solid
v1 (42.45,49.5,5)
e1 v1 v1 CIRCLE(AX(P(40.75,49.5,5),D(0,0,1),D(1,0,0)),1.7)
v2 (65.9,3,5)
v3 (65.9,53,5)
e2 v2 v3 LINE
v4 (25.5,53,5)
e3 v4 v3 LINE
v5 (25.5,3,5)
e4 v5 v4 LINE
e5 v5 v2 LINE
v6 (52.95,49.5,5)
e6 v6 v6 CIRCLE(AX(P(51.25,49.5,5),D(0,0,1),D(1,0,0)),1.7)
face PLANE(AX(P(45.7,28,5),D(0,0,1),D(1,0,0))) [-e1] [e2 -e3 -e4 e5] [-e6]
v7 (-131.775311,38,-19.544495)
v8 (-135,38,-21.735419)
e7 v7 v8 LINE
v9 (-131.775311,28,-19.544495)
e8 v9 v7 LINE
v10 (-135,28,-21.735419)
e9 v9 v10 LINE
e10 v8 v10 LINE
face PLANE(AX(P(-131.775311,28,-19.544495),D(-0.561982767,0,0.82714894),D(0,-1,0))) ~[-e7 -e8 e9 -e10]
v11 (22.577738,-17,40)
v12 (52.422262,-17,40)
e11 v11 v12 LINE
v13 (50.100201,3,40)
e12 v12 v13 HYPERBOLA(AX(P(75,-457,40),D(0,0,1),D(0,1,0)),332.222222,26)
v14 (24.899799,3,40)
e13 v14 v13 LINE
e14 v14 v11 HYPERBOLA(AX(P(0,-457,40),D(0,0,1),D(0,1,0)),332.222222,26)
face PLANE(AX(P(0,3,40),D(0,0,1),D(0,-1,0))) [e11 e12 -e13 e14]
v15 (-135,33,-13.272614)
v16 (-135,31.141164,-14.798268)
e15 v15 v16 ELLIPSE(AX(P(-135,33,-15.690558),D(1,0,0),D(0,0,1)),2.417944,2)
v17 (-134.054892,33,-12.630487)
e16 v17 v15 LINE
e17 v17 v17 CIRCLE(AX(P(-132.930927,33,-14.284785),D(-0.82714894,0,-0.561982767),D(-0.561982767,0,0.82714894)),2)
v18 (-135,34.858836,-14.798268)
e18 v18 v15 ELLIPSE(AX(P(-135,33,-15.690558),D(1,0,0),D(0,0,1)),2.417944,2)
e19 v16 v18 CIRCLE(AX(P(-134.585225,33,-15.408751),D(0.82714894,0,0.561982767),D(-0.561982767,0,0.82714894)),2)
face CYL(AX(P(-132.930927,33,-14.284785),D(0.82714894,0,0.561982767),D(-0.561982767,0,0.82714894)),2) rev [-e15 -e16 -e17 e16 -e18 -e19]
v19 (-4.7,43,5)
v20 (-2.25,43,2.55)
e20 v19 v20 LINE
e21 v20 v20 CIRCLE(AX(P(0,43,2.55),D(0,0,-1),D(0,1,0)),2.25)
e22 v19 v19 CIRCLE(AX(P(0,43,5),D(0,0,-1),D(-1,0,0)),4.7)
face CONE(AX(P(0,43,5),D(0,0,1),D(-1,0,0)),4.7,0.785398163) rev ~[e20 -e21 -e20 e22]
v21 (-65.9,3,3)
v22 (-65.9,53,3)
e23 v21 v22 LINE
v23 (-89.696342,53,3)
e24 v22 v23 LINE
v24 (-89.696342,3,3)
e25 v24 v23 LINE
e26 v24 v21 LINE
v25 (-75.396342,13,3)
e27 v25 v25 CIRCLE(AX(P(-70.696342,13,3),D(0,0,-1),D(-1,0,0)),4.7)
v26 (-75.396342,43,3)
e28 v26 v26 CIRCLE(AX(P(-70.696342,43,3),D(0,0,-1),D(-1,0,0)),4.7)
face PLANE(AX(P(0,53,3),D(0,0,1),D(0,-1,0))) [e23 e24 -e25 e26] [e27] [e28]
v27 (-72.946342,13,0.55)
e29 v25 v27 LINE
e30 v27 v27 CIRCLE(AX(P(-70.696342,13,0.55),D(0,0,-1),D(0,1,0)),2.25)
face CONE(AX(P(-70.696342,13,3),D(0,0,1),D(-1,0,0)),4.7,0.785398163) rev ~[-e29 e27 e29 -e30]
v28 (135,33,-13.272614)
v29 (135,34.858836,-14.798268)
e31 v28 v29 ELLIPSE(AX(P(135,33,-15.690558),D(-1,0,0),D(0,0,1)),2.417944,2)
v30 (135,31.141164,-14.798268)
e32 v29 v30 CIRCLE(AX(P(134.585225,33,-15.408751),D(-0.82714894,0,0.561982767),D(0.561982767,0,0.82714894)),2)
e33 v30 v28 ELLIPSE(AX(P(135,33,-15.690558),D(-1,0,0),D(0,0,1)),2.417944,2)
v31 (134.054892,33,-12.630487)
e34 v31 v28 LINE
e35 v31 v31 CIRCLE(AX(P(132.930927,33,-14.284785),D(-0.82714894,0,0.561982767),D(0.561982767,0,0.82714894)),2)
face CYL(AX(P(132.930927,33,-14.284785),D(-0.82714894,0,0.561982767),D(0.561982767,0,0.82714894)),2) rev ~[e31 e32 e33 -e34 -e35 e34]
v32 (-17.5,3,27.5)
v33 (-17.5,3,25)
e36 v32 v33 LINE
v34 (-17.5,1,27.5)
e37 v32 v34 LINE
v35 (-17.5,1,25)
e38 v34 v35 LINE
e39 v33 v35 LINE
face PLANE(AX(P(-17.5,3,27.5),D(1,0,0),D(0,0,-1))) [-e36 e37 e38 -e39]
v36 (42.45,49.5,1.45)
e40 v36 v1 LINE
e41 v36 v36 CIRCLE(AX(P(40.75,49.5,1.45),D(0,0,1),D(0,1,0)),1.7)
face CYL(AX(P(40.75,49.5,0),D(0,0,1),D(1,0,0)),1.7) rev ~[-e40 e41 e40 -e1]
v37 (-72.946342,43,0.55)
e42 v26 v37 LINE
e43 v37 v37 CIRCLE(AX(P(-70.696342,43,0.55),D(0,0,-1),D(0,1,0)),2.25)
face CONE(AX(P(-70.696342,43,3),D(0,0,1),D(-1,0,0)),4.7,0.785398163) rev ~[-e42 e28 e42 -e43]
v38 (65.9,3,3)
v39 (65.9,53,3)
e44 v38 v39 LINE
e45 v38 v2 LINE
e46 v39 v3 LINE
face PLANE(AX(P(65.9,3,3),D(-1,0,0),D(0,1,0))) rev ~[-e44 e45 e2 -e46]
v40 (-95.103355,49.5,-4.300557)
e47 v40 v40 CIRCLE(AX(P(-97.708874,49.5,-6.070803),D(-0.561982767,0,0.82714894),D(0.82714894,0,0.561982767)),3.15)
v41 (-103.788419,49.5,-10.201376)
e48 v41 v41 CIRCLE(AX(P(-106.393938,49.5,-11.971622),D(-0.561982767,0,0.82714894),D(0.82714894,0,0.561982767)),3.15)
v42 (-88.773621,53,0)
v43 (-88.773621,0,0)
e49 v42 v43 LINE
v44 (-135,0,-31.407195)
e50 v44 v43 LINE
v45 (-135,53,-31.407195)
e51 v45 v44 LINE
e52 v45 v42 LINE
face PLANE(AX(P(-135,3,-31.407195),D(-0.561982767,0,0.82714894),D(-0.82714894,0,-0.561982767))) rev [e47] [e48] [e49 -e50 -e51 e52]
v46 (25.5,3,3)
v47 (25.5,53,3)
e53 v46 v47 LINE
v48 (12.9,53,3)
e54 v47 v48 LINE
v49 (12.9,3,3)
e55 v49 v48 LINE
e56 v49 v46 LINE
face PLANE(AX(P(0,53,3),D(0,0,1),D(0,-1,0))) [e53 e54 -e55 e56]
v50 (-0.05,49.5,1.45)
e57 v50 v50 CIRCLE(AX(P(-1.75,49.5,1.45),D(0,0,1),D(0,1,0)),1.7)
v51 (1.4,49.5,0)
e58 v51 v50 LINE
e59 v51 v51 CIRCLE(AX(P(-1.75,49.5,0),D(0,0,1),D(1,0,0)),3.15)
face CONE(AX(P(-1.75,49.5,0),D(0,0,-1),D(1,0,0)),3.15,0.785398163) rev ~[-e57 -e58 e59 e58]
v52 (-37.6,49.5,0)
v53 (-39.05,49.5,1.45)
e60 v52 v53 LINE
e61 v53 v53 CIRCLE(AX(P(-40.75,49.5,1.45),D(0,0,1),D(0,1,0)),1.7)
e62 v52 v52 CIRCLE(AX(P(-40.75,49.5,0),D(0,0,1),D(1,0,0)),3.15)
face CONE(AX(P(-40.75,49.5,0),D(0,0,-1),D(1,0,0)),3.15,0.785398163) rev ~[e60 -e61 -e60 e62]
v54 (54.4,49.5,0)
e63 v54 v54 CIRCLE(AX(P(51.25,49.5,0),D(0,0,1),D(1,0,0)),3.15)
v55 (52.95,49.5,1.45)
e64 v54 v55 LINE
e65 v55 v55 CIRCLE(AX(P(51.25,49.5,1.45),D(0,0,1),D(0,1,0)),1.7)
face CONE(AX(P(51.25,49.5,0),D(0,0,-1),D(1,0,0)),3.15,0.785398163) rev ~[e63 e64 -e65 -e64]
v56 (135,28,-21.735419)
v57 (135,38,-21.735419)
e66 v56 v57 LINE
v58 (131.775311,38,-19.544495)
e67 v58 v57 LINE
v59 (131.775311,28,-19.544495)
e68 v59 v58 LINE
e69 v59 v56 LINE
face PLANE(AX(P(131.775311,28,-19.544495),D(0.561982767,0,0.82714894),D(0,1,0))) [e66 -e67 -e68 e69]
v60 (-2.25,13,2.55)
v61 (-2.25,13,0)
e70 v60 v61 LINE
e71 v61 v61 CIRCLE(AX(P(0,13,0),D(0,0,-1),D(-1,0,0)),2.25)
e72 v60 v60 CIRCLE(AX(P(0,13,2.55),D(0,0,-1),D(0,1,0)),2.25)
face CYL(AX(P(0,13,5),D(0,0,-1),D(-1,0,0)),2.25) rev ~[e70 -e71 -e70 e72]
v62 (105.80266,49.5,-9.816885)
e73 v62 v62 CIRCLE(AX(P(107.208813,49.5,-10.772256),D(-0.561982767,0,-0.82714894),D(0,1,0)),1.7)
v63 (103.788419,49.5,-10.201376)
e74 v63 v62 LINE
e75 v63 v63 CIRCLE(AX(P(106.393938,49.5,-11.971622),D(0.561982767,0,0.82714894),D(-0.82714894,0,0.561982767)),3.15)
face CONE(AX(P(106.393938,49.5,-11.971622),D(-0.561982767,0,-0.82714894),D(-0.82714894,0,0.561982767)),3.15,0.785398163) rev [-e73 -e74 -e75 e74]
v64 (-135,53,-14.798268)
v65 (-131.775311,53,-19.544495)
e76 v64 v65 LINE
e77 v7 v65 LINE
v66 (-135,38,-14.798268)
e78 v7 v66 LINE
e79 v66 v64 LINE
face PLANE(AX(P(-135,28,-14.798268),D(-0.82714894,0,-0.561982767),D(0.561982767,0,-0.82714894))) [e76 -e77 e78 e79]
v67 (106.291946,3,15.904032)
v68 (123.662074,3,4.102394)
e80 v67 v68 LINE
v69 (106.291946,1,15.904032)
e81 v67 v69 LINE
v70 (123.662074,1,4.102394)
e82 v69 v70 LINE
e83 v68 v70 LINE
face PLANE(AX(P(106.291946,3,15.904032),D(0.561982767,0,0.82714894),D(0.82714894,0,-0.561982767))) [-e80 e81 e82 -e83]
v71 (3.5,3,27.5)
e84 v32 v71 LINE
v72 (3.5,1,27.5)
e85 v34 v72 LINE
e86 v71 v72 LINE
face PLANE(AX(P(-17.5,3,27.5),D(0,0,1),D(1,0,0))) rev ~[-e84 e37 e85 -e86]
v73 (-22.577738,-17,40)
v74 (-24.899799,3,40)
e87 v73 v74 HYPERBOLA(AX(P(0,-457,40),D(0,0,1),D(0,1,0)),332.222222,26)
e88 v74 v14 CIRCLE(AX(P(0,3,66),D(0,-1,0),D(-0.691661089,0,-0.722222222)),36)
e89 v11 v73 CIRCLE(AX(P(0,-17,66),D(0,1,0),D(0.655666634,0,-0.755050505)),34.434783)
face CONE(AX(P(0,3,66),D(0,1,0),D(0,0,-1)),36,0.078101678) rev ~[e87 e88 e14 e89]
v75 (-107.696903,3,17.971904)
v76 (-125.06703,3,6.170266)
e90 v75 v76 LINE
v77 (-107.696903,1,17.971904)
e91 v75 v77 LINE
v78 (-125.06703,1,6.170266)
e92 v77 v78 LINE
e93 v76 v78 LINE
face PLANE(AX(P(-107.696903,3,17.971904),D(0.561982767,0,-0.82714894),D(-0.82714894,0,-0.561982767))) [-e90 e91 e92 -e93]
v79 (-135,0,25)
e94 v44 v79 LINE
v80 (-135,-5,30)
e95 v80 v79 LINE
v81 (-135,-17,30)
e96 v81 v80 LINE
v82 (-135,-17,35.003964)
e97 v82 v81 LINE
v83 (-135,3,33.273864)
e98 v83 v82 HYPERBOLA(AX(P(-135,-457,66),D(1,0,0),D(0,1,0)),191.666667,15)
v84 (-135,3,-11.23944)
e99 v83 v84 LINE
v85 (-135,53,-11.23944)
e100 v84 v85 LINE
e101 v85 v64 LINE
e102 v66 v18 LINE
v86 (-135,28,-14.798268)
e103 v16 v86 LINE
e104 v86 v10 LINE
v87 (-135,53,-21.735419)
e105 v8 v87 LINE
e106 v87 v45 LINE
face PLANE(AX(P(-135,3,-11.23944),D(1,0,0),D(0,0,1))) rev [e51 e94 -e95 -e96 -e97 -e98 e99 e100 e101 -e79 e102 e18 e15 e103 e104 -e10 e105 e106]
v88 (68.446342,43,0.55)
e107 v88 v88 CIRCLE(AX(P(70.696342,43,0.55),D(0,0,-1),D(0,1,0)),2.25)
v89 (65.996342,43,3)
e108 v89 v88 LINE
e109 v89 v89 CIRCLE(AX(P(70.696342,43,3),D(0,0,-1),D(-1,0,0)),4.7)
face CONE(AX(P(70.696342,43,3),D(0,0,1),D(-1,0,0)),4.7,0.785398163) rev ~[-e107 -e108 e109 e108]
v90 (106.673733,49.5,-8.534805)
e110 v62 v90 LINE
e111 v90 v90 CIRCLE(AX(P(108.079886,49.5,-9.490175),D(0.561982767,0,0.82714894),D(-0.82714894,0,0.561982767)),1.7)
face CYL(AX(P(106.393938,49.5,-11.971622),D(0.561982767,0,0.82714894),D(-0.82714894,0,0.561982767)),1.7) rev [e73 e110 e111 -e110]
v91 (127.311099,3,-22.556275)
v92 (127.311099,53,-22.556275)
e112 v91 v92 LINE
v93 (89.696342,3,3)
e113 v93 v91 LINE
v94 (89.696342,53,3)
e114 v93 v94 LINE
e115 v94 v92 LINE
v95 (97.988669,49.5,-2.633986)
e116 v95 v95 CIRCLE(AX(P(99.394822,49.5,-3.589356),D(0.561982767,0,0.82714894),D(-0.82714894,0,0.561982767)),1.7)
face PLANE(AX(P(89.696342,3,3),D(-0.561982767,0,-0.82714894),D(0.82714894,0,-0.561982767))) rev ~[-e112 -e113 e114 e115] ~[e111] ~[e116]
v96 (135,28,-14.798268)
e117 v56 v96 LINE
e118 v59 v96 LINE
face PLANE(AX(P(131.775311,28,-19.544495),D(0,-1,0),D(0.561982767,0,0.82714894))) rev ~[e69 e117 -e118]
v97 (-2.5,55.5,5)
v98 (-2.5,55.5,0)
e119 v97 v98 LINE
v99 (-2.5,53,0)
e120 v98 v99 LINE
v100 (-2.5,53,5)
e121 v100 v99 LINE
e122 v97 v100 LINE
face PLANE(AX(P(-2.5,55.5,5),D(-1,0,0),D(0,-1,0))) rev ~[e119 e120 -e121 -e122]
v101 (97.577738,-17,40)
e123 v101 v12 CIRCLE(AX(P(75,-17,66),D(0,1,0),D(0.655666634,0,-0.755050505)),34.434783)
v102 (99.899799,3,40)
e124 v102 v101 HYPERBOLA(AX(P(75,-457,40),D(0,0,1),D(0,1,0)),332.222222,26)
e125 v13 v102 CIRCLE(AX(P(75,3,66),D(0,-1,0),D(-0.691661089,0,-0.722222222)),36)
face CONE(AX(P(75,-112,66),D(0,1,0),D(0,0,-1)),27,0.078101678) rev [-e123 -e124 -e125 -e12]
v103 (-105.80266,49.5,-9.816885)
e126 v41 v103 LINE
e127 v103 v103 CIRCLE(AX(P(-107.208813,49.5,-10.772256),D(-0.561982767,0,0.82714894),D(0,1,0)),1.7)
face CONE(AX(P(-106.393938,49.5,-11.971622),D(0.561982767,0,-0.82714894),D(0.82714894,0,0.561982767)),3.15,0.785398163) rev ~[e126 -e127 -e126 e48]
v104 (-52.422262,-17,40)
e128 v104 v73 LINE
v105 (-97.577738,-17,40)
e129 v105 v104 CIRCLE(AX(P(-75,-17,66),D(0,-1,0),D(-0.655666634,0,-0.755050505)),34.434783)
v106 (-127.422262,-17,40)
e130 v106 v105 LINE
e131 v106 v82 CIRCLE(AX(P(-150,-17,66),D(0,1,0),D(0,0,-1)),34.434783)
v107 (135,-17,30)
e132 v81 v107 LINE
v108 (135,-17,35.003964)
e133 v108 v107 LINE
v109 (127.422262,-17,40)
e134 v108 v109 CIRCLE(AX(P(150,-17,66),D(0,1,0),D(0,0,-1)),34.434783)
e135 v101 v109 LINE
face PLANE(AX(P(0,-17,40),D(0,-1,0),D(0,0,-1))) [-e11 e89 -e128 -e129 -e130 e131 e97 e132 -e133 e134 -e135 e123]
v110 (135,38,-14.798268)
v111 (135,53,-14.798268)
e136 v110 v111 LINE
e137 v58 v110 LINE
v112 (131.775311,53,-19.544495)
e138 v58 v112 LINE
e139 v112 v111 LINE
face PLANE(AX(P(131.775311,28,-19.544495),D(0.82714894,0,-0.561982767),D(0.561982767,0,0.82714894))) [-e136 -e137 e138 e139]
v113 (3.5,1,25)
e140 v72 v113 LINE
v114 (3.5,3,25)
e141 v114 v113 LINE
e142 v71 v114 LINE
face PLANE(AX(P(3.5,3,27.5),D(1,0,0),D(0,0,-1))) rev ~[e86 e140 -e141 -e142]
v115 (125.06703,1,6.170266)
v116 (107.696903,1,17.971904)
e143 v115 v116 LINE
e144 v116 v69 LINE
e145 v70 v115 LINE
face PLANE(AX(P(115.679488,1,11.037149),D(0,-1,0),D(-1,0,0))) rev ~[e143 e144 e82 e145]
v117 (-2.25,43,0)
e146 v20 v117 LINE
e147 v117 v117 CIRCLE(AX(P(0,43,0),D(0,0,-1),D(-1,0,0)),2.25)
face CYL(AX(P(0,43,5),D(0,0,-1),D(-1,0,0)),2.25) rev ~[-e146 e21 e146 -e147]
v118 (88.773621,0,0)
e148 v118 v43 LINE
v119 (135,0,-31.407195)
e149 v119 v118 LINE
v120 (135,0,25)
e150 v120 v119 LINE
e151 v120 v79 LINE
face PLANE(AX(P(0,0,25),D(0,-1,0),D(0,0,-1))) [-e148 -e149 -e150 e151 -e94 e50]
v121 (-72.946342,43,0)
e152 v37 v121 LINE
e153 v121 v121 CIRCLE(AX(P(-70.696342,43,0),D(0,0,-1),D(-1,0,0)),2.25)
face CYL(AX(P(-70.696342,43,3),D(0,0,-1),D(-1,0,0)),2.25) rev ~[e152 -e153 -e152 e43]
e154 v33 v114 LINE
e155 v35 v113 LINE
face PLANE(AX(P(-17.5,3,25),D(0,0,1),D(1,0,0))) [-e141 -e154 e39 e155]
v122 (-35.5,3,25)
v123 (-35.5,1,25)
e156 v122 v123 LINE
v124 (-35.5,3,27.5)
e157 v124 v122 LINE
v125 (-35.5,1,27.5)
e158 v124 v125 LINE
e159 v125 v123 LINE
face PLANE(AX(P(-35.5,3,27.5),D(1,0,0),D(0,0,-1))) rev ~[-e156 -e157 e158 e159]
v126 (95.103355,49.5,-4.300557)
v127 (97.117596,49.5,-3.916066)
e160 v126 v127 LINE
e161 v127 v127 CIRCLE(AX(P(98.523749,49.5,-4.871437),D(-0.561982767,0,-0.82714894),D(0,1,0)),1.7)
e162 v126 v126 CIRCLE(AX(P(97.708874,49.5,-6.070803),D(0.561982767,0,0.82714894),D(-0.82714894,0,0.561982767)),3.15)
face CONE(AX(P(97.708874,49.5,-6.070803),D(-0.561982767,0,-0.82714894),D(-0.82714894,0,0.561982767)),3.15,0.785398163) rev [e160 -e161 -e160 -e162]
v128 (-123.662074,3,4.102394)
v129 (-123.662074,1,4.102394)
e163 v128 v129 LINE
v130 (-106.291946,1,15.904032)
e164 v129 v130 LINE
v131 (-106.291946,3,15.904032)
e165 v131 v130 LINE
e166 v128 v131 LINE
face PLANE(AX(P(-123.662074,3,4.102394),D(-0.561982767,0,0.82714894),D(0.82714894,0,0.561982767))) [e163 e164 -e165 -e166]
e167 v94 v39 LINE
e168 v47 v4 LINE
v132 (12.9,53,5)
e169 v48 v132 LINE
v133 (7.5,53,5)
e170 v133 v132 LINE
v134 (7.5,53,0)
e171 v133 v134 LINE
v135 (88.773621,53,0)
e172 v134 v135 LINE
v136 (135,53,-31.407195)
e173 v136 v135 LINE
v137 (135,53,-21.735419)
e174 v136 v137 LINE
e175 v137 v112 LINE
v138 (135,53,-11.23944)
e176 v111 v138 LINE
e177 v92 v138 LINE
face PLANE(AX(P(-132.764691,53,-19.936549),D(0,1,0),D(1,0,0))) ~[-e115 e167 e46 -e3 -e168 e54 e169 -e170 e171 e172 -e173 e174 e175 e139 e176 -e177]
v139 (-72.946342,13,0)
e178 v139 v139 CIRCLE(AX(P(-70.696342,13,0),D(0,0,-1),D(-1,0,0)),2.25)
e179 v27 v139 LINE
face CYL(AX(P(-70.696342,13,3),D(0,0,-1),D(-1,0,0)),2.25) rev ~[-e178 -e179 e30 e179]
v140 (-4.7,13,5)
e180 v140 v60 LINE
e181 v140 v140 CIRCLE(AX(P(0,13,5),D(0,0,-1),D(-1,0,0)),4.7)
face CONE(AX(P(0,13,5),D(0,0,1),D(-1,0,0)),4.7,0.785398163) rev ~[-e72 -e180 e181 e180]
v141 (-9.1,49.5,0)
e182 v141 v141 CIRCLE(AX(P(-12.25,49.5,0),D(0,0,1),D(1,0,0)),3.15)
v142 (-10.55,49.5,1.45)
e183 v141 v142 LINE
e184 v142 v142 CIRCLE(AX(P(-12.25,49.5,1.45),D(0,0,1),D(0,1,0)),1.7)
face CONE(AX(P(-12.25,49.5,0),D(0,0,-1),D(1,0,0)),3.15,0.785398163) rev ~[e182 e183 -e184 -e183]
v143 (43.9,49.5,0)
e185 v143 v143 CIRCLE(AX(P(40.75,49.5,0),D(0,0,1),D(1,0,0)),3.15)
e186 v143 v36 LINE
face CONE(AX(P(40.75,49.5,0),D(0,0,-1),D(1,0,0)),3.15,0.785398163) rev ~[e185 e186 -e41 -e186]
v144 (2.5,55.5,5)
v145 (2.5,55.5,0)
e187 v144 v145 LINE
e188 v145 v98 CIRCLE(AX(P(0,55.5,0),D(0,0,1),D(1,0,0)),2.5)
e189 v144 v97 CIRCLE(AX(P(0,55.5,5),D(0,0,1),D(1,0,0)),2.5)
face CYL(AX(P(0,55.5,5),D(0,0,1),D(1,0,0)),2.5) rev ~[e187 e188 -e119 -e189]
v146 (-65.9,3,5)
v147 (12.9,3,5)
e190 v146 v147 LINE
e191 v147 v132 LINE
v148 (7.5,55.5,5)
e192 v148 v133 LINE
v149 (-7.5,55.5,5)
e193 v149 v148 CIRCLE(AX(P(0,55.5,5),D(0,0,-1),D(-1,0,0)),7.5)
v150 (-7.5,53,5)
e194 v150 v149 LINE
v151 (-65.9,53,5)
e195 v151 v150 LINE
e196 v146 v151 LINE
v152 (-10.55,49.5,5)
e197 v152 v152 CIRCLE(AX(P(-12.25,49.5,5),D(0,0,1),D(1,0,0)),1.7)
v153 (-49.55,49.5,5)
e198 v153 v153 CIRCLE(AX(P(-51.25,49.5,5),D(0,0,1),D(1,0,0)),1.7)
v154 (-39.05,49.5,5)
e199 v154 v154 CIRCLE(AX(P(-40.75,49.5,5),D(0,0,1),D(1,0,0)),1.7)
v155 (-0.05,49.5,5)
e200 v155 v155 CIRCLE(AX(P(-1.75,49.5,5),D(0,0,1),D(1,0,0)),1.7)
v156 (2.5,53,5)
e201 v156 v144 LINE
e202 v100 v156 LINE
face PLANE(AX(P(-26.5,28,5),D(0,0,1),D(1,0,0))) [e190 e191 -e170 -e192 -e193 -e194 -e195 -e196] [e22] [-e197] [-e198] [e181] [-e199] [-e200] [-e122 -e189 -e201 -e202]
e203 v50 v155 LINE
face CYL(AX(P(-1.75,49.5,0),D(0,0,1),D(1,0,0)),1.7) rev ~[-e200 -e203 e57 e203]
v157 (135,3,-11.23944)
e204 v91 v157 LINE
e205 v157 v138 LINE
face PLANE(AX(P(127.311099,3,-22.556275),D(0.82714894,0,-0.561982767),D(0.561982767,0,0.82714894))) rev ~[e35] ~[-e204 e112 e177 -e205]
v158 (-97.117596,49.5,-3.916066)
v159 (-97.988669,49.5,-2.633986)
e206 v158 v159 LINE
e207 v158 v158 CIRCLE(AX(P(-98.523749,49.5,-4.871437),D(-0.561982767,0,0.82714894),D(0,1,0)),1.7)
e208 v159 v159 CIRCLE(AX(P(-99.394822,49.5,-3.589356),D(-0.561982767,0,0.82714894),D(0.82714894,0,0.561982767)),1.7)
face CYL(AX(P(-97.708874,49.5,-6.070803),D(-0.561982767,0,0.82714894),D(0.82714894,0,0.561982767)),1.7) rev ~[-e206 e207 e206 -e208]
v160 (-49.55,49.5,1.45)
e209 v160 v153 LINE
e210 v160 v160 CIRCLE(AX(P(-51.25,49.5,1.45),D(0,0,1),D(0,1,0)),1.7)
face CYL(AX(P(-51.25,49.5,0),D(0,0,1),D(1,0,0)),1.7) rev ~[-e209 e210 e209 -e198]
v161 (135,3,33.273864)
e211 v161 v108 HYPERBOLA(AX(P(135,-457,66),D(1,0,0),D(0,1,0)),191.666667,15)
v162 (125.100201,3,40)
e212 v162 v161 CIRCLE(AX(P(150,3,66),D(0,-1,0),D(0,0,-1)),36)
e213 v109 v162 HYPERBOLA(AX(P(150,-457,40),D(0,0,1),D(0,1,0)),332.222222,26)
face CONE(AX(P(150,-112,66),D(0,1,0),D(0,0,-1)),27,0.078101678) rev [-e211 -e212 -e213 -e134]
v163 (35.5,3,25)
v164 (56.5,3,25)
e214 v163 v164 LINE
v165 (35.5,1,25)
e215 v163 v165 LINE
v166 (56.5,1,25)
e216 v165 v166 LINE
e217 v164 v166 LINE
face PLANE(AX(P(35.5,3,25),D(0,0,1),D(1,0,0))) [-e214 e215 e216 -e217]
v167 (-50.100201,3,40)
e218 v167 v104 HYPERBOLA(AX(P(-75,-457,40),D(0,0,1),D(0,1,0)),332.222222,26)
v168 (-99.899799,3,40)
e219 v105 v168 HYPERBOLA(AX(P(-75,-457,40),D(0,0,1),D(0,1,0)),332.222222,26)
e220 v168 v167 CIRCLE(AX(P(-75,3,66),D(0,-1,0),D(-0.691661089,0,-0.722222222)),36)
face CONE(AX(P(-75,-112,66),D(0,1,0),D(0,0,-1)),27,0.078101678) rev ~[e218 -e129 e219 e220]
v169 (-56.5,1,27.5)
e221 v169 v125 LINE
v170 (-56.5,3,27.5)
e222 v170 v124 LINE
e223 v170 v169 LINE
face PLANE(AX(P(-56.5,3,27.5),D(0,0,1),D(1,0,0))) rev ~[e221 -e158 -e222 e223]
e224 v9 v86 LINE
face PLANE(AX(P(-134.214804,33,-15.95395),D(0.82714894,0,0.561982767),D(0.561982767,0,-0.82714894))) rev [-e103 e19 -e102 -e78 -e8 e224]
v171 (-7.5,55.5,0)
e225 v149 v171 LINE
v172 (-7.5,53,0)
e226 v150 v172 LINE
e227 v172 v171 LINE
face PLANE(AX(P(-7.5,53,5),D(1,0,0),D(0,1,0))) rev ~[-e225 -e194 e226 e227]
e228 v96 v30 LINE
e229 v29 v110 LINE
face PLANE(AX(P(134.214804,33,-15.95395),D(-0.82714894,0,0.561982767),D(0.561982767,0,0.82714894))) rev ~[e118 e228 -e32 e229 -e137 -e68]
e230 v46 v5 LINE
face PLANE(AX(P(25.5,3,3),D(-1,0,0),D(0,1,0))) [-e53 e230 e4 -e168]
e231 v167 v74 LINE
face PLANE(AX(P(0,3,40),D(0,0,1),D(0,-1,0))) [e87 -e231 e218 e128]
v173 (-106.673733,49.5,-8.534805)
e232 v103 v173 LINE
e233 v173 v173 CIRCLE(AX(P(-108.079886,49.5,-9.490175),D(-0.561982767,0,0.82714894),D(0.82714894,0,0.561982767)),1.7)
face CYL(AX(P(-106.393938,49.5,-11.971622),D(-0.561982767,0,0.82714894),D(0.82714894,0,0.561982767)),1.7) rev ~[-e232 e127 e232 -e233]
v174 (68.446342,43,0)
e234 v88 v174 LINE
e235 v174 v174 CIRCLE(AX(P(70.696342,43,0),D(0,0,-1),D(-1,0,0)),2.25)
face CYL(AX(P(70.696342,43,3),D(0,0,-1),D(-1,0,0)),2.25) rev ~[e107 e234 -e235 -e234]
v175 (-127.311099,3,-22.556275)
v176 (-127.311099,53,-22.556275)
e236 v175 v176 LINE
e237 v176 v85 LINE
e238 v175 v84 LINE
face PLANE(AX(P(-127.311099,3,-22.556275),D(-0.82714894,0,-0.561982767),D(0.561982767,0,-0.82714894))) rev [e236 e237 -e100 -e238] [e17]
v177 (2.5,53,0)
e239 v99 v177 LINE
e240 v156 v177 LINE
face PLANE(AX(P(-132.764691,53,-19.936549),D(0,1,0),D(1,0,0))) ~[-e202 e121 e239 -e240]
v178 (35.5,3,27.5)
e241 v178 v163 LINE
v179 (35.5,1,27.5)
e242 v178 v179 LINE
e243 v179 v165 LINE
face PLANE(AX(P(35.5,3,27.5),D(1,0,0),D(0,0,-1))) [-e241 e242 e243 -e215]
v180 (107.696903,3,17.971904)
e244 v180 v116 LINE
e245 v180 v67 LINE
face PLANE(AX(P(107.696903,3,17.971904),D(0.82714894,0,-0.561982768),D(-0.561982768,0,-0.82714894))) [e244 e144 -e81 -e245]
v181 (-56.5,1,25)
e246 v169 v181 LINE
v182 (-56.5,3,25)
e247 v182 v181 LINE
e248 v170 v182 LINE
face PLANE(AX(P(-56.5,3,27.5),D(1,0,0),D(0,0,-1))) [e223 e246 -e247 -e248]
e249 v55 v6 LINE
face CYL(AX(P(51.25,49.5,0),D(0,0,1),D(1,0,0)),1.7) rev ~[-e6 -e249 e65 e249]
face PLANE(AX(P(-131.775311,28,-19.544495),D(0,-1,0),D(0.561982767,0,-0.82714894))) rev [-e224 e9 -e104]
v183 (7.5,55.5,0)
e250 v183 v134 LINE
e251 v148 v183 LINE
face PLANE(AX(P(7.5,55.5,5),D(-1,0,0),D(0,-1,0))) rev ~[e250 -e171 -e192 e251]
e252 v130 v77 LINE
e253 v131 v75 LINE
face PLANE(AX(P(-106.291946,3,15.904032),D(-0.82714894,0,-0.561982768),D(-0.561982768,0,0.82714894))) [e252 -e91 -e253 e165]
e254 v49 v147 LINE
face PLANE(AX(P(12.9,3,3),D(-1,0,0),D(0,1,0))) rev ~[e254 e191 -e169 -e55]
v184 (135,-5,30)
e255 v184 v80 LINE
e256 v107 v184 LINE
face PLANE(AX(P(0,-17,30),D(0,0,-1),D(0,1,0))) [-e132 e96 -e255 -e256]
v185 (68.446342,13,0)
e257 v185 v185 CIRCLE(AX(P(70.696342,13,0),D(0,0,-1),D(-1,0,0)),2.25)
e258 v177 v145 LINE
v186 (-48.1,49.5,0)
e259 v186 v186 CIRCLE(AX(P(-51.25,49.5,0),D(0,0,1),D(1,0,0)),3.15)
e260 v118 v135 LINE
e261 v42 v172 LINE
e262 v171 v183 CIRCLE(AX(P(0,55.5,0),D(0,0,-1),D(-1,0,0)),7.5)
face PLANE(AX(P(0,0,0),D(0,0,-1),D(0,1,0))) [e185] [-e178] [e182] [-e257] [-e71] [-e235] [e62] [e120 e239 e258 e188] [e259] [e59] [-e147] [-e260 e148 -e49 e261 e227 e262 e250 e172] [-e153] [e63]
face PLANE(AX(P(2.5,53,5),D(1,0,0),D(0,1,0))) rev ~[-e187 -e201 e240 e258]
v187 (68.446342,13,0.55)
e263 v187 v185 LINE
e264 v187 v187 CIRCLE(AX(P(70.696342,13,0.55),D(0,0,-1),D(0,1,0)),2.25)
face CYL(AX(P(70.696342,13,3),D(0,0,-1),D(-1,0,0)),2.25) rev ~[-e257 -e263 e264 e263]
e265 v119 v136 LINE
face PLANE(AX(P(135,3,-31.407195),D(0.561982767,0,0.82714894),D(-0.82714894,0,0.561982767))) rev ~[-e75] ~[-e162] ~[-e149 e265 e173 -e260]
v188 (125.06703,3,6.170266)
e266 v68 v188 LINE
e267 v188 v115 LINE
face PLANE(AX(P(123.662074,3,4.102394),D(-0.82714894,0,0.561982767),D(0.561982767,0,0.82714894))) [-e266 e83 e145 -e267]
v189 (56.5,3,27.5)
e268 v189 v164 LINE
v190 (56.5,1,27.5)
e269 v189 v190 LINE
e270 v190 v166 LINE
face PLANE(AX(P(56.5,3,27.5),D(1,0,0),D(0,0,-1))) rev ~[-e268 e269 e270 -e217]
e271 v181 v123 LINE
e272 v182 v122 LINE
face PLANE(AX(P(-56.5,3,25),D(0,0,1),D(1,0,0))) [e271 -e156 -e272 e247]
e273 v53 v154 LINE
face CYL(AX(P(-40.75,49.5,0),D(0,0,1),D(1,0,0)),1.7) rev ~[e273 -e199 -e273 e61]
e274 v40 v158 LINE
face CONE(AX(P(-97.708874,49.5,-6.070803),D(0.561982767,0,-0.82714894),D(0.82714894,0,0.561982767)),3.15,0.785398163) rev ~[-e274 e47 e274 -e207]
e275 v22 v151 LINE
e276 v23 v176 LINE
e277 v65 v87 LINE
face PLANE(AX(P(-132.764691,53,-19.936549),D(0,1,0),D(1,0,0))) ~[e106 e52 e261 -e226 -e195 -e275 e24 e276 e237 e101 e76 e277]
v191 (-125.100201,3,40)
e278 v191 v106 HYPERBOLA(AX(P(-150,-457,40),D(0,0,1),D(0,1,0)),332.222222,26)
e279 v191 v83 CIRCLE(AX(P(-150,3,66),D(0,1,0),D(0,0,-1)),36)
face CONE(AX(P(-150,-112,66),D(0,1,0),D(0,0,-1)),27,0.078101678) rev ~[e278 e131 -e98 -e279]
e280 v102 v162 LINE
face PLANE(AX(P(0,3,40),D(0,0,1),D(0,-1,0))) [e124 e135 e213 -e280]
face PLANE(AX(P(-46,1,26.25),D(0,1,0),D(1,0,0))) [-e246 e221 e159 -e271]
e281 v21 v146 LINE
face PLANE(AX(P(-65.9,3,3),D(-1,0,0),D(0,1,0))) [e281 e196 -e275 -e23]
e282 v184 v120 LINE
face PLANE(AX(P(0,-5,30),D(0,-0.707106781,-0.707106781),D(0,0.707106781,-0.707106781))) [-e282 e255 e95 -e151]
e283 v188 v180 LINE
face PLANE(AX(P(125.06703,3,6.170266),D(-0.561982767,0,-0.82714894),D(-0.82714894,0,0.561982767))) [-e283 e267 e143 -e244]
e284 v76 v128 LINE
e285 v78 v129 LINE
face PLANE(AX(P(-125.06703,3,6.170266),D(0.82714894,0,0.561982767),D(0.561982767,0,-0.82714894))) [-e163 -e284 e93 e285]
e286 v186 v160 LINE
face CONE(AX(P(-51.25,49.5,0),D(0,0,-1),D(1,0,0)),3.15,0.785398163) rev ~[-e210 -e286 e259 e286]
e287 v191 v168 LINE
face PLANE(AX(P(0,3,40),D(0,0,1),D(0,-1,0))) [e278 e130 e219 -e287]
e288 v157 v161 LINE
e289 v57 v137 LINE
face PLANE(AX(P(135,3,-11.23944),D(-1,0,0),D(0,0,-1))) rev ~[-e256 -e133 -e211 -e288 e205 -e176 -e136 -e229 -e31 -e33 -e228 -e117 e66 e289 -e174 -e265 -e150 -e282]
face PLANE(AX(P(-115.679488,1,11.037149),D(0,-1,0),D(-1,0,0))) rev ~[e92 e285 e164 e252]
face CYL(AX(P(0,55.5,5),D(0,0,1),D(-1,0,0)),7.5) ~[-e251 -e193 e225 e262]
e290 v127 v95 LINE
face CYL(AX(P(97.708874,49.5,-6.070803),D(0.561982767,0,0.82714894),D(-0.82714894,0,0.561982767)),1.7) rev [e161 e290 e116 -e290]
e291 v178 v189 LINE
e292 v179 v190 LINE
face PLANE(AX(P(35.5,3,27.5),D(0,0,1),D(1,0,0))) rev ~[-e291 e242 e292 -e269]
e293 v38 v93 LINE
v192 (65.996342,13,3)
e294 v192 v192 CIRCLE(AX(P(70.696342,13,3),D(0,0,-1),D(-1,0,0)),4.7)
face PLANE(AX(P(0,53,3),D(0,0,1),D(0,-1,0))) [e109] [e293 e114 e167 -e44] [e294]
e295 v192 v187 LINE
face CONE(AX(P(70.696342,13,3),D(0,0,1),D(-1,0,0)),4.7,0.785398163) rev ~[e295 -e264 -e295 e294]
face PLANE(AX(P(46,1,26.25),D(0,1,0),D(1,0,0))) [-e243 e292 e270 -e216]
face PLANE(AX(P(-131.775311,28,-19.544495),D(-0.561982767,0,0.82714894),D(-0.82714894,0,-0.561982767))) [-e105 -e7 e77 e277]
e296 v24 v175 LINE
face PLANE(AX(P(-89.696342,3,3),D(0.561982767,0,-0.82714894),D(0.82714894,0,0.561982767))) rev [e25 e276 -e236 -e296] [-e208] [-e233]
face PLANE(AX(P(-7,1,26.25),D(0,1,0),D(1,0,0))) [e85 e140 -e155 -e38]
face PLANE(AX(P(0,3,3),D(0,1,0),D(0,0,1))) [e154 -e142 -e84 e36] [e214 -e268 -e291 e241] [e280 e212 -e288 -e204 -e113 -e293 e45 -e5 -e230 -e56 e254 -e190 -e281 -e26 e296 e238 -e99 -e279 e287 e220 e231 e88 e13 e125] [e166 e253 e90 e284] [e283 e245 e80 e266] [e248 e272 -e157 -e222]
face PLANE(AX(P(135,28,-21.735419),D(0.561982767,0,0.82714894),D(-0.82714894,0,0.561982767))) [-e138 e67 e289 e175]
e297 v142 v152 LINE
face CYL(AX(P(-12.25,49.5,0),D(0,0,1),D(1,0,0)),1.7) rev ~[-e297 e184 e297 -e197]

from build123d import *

# Parameters (mm, degrees)
BOSS_EXTRUDE1_DEPTH                                  = 135
BOSS_EXTRUDE2_REACH                                  = 151.416
BOSS_EXTRUDE2_DIRECTION_2_REACH                      = 151.416
CUT_EXTRUDE1_DEPTH                                   = 50
BOSS_EXTRUDE3_DEPTH                                  = 50
SKETCH9_R                                            = 2
CUT_EXTRUDE2_DEPTH                                   = 262.164206304
CUT_EXTRUDE3_START                                   = -2
SKETCH10_W                                           = 8.681737756
SKETCH10_H                                           = 10
CUT_EXTRUDE3_DEPTH                                   = 260.164206304
SKETCH11_W                                           = 78.8
SKETCH11_H                                           = 50
SKETCH11_W_2                                         = 40.4
BOSS_EXTRUDE4_DEPTH                                  = 2
SKETCH15_W                                           = 21
SKETCH15_H                                           = 2.5
CUT_EXTRUDE8_DEPTH                                   = 2
SKETCH16_R                                           = 1.5
CUT_EXTRUDE9_DEPTH                                   = 150.530879357
SKETCH17_R                                           = 1.5
CUT_EXTRUDE10_DEPTH                                  = 189.655270521
CSK_FOR_M4_COUNTERSUNK_RAISED_HEAD_SCREW_D           = 4.5
CSK_FOR_M4_COUNTERSUNK_RAISED_HEAD_SCREW_CSINK_D     = 9.4
CSK_FOR_M4_COUNTERSUNK_RAISED_HEAD_SCREW_CSINK_ANGLE = 90
BOSS_EXTRUDE5_DEPTH                                  = 5
CUT_EXTRUDE11_DEPTH                                  = 148.817454991
CSK_FOR_M4_COUNTERSUNK_RAISED_HEAD_S_2_D             = 4.5
CSK_FOR_M4_COUNTERSUNK_RAISED_HEAD_S_2_CSINK_D       = 9.4
CSK_FOR_M4_COUNTERSUNK_RAISED_HEAD_S_2_CSINK_ANGLE   = 90
CSK_FOR_M3_COUNTERSUNK_RAISED_HEAD_SCREW_D           = 3.4
CSK_FOR_M3_COUNTERSUNK_RAISED_HEAD_SCREW_CSINK_D     = 6.3
CSK_FOR_M3_COUNTERSUNK_RAISED_HEAD_SCREW_CSINK_ANGLE = 90
CSK_FOR_M3_COUNTERSUNK_RAISED_HEAD_S_2_D             = 3.4
CSK_FOR_M3_COUNTERSUNK_RAISED_HEAD_S_2_CSINK_D       = 6.3
CSK_FOR_M3_COUNTERSUNK_RAISED_HEAD_S_2_CSINK_ANGLE   = 90


with BuildPart() as part:
    # Sketch1 → Boss-Extrude1 (new, symmetric)
    with BuildSketch(Plane(origin=(0, 0, 0), x_dir=(0, 0, -1), z_dir=(1, 0, 0))):
        Polygon((0, 0), (0, 53), (-3, 53), (-3, 3), (-40, 3), (-40, 0), (-40, -17), (-30, -17), (-30, -5), (-25, 0), align=None)
    extrude(amount=BOSS_EXTRUDE1_DEPTH, both=True)

    # Sketch2 → Cut-Revolve1 (revolve, cut)
    with BuildSketch(Plane(origin=(0, 0, 0), x_dir=(0, 0, -1), z_dir=(1, 0, 0))):
        Polygon((-66, 3), (-30, 3), (-39, -112), (-66, -112), align=None)
    revolve(axis=Axis((0, 3, 66), (0, -1, 0)), mode=Mode.SUBTRACT)

    # Sketch3 → Cut-Revolve2 (revolve, cut)
    with BuildSketch(Plane(origin=(75, 0, 0), x_dir=(0, 0, -1), z_dir=(1, 0, 0))):
        Polygon((-30, 3), (-66, 3), (-66, -112), (-39, -112), align=None)
    cut_revolve2 = revolve(axis=Axis((75, 3, 66), (0, -1, 0)), mode=Mode.SUBTRACT)

    # Sketch4 → Cut-Revolve3 (revolve, cut)
    with BuildSketch(Plane(origin=(150, 0, 0), x_dir=(0, 0, -1), z_dir=(1, 0, 0))):
        Polygon((-30, 3), (-66, 3), (-66, -112), (-39, -112), align=None)
    cut_revolve3 = revolve(axis=Axis((150, 3, 66), (0, -1, 0)), mode=Mode.SUBTRACT)

    # Boss-Extrude2: up to this face of the body (flat: up to its plane)
    boss_extrude2_end = Plane(part.part.faces().sort_by_distance((0, 53, 1.5))[0])
    # Sketch5 → Boss-Extrude2 (add, up to the picked face)
    with BuildSketch(Plane(origin=(0, 3, 0), x_dir=(1, 0, 0), z_dir=(0, 1, 0)), mode=Mode.PRIVATE) as boss_extrude2_sk1:
        Polygon((89.696341704, -3), (135, -3), (135, 27.780279129), (135, 31.407195461), (84.358099725, -3), align=None)
    boss_extrude2_tool1 = split(extrude(boss_extrude2_sk1.sketch, amount=BOSS_EXTRUDE2_REACH, mode=Mode.PRIVATE), bisect_by=boss_extrude2_end, keep=Keep.BOTH, mode=Mode.PRIVATE)
    boss_extrude2 = boss_extrude2_tool1.solids().sort_by(Axis((118.119367, 3, -8.469065), (0, 1, 0)))[0]
    add(boss_extrude2)

    # Boss-Extrude2 direction 2: up to this face of the body (flat: up to its plane)
    boss_extrude2_direction_2_end = Plane(part.part.faces().sort_by_distance((0, 0, 12.5))[0])
    # Sketch5 → Boss-Extrude2 direction 2 (add, up to the picked face)
    with BuildSketch(Plane(origin=(0, 3, 0), x_dir=(1, 0, 0), z_dir=(0, 1, 0)), mode=Mode.PRIVATE) as boss_extrude2_direction_2_sk1:
        Polygon((89.696341704, -3), (135, -3), (135, 27.780279129), (135, 31.407195461), (84.358099725, -3), align=None)
    boss_extrude2_direction_2_tool1 = split(extrude(boss_extrude2_direction_2_sk1.sketch, amount=-BOSS_EXTRUDE2_DIRECTION_2_REACH, mode=Mode.PRIVATE), bisect_by=boss_extrude2_direction_2_end, keep=Keep.BOTH, mode=Mode.PRIVATE)
    boss_extrude2_direction_2 = boss_extrude2_direction_2_tool1.solids().sort_by(Axis((118.119367, 3, -8.469065), (0, -1, 0)))[0]
    add(boss_extrude2_direction_2)

    # Sketch7 → Cut-Extrude1 (cut)
    with BuildSketch(Plane(origin=(0, 3, 0), x_dir=(1, 0, 0), z_dir=(0, 1, 0))):
        Polygon((89.696341704, -3), (135, 27.780279129), (135, -3), align=None)
    cut_extrude1 = extrude(amount=CUT_EXTRUDE1_DEPTH, mode=Mode.SUBTRACT)

    # Sketch8 → Boss-Extrude3 (add)
    with BuildSketch(Plane(origin=(0, 3, 0), x_dir=(1, 0, 0), z_dir=(0, 1, 0))):
        Polygon((135, 27.780279129), (127.311099154, 22.556274642), (135, 11.239439757), align=None)
    boss_extrude3 = extrude(amount=BOSS_EXTRUDE3_DEPTH)

    # Sketch9 → Cut-Extrude2 (cut, through all)
    with BuildSketch(Plane(origin=(97.588254801, 0, -66.303557715), x_dir=(0.5619827673392628, 0, 0.8271489401635621), z_dir=(-0.8271489401635621, 0, 0.5619827673392628))):
        with Locations((62.889245152, 33)):
            Circle(SKETCH9_R)
    cut_extrude2 = extrude(amount=-CUT_EXTRUDE2_DEPTH, mode=Mode.SUBTRACT)

    # Sketch10 → Cut-Extrude3 (cut, through all)
    with BuildSketch(Plane(origin=(97.588254801, 0, -66.303557715), x_dir=(0.5619827673392628, 0, 0.8271489401635621), z_dir=(-0.8271489401635621, 0, 0.5619827673392628)).offset(CUT_EXTRUDE3_START)):
        with Locations((62.23011403, 33)):
            Rectangle(SKETCH10_W, SKETCH10_H)
    cut_extrude3 = extrude(amount=-CUT_EXTRUDE3_DEPTH, mode=Mode.SUBTRACT)

    # Mirror1: Cut-Revolve2, Cut-Revolve3, Boss-Extrude2, Boss-Extrude2 direction 2, Cut-Extrude1, Boss-Extrude3, Cut-Extrude2, Cut-Extrude3 across plane
    add(cut_revolve2.mirror(Plane(origin=(0, 0, 0), x_dir=(0, 0, 1), z_dir=(1, 0, 0))), mode=Mode.SUBTRACT)
    add(cut_revolve3.mirror(Plane(origin=(0, 0, 0), x_dir=(0, 0, 1), z_dir=(1, 0, 0))), mode=Mode.SUBTRACT)
    add(boss_extrude2.mirror(Plane(origin=(0, 0, 0), x_dir=(0, 0, 1), z_dir=(1, 0, 0))))
    add(boss_extrude2_direction_2.mirror(Plane(origin=(0, 0, 0), x_dir=(0, 0, 1), z_dir=(1, 0, 0))))
    add(cut_extrude1.mirror(Plane(origin=(0, 0, 0), x_dir=(0, 0, 1), z_dir=(1, 0, 0))), mode=Mode.SUBTRACT)
    add(boss_extrude3.mirror(Plane(origin=(0, 0, 0), x_dir=(0, 0, 1), z_dir=(1, 0, 0))))
    add(cut_extrude2.mirror(Plane(origin=(0, 0, 0), x_dir=(0, 0, 1), z_dir=(1, 0, 0))), mode=Mode.SUBTRACT)
    add(cut_extrude3.mirror(Plane(origin=(0, 0, 0), x_dir=(0, 0, 1), z_dir=(1, 0, 0))), mode=Mode.SUBTRACT)

    # Sketch11 → Boss-Extrude4 (add)
    with BuildSketch(Plane.XY.offset(3)):
        with Locations((-26.5, 28)):
            Rectangle(SKETCH11_W, SKETCH11_H)
        with Locations((45.7, 28)):
            Rectangle(SKETCH11_W_2, SKETCH11_H)
    extrude(amount=BOSS_EXTRUDE4_DEPTH)

    # Sketch15 → Cut-Extrude8 (cut)
    with BuildSketch(Plane(origin=(0, 3, 0), x_dir=(1, 0, 0), z_dir=(0, 1, 0))):
        Polygon((-107.696902753, -17.971904438), (-125.067030496, -6.170266324), (-123.662073578, -4.102393974), (-106.291945834, -15.904032088), align=None)
        with Locations((-46, -26.25)):
            Rectangle(SKETCH15_W, SKETCH15_H)
        with Locations((-7, -26.25)):
            Rectangle(SKETCH15_W, SKETCH15_H)
        with Locations((46, -26.25)):
            Rectangle(SKETCH15_W, SKETCH15_H)
        Polygon((106.291945834, -15.904032088), (123.662073578, -4.102393974), (125.067030496, -6.170266324), (107.696902753, -17.971904438), align=None)
    extrude(amount=-CUT_EXTRUDE8_DEPTH, mode=Mode.SUBTRACT)

    # Sketch16 → Cut-Extrude9 (cut, through all)
    with BuildSketch(Plane.XY.offset(5)):
        with Locations((-1.75, 49.5)):
            Circle(SKETCH16_R)
        with Locations((-12.25, 49.5)):
            Circle(SKETCH16_R)
        with Locations((-40.75, 49.5)):
            Circle(SKETCH16_R)
        with Locations((-51.25, 49.5)):
            Circle(SKETCH16_R)
        with Locations((51.25, 49.5)):
            Circle(SKETCH16_R)
        with Locations((40.75, 49.5)):
            Circle(SKETCH16_R)
    extrude(amount=-CUT_EXTRUDE9_DEPTH, mode=Mode.SUBTRACT)

    # Sketch17 → Cut-Extrude10 (cut, through all)
    with BuildSketch(Plane(origin=(-29.722844353, 0, 43.747283073), x_dir=(0.8271489401635628, 0, 0.5619827673392619), z_dir=(-0.5619827673392618, 0, 0.8271489401635627))):
        with Locations((-94.73147838, 49.5)):
            Circle(SKETCH17_R)
        with Locations((-84.23147838, 49.5)):
            Circle(SKETCH17_R)
    cut_extrude10 = extrude(amount=-CUT_EXTRUDE10_DEPTH, mode=Mode.SUBTRACT)

    # Mirror2: Cut-Extrude10 across plane
    add(cut_extrude10.mirror(Plane(origin=(0, 0, 0), x_dir=(0, 0, 1), z_dir=(1, 0, 0))), mode=Mode.SUBTRACT)

    # CSK for M4 Countersunk Raised Head Screw (through all)
    with Locations(Plane.XY.offset(3)):
        with Locations((-70.696341704, 43), (-70.696341704, 13), (70.696341704, 43), (70.696341704, 13)):
            CounterSinkHole(CSK_FOR_M4_COUNTERSUNK_RAISED_HEAD_SCREW_D / 2, CSK_FOR_M4_COUNTERSUNK_RAISED_HEAD_SCREW_CSINK_D / 2, counter_sink_angle=CSK_FOR_M4_COUNTERSUNK_RAISED_HEAD_SCREW_CSINK_ANGLE)

    # Sketch23 → Boss-Extrude5 (add)
    with BuildSketch(Plane.XY.offset(5)):
        with BuildLine():
            Line((-7.5, 53), (-7.5, 55.5))
            ThreePointArc((-7.5, 55.5), (0, 63), (7.5, 55.5))
            Line((7.5, 55.5), (7.5, 53))
            Line((7.5, 53), (2.5, 53))
            Line((2.5, 53), (2.5, 55.5))
            ThreePointArc((2.5, 55.5), (0, 58), (-2.5, 55.5))
            Line((-2.5, 55.5), (-2.5, 53))
            Line((-2.5, 53), (-7.5, 53))
        make_face()
    extrude(amount=-BOSS_EXTRUDE5_DEPTH)

    # Sketch24 → Cut-Extrude11 (cut, through all)
    with BuildSketch(Plane(origin=(0, 28, 0), x_dir=(1, 0, 0), z_dir=(0, 1, 0))):
        Polygon((135, 14.798267743), (135, 21.735418576), (131.775310871, 19.544495475), align=None)
        Polygon((-135, 21.735418576), (-135, 14.798267743), (-131.775310871, 19.544495475), align=None)
    extrude(amount=CUT_EXTRUDE11_DEPTH, mode=Mode.SUBTRACT)

    # CSK for M4 Countersunk Raised Head S 2 (through all)
    with Locations(Plane.XY.offset(5)):
        with Locations((0, 43), (0, 13)):
            CounterSinkHole(CSK_FOR_M4_COUNTERSUNK_RAISED_HEAD_S_2_D / 2, CSK_FOR_M4_COUNTERSUNK_RAISED_HEAD_S_2_CSINK_D / 2, counter_sink_angle=CSK_FOR_M4_COUNTERSUNK_RAISED_HEAD_S_2_CSINK_ANGLE)

    # CSK for M3 Countersunk Raised Head Screw (through all)
    with Locations(Plane(origin=(0, 0, 0), x_dir=(-1, 0, 0), z_dir=(0, 0, -1))):
        with Locations((-51.25, 49.5), (-40.75, 49.5), (1.75, 49.5), (12.25, 49.5), (40.75, 49.5), (51.25, 49.5)):
            CounterSinkHole(CSK_FOR_M3_COUNTERSUNK_RAISED_HEAD_SCREW_D / 2, CSK_FOR_M3_COUNTERSUNK_RAISED_HEAD_SCREW_CSINK_D / 2, counter_sink_angle=CSK_FOR_M3_COUNTERSUNK_RAISED_HEAD_SCREW_CSINK_ANGLE)

    # CSK for M3 Countersunk Raised Head S 2 (through all)
    with Locations(Plane(origin=(-28.036896051, 0, 41.265836253), x_dir=(-0.8271489401635628, 0, -0.5619827673392619), z_dir=(0.5619827673392618, 0, -0.8271489401635627))):
        with Locations((84.23147838, 49.5), (94.73147838, 49.5)):
            csk_for_m3_countersunk_raised_head_s_2 = CounterSinkHole(CSK_FOR_M3_COUNTERSUNK_RAISED_HEAD_S_2_D / 2, CSK_FOR_M3_COUNTERSUNK_RAISED_HEAD_S_2_CSINK_D / 2, counter_sink_angle=CSK_FOR_M3_COUNTERSUNK_RAISED_HEAD_S_2_CSINK_ANGLE)

    # Mirror3: CSK for M3 Countersunk Raised Head S 2 across plane
    add(csk_for_m3_countersunk_raised_head_s_2.mirror(Plane(origin=(0, 0, 0), x_dir=(0, 0, 1), z_dir=(1, 0, 0))), mode=Mode.SUBTRACT)


solid = part.part
